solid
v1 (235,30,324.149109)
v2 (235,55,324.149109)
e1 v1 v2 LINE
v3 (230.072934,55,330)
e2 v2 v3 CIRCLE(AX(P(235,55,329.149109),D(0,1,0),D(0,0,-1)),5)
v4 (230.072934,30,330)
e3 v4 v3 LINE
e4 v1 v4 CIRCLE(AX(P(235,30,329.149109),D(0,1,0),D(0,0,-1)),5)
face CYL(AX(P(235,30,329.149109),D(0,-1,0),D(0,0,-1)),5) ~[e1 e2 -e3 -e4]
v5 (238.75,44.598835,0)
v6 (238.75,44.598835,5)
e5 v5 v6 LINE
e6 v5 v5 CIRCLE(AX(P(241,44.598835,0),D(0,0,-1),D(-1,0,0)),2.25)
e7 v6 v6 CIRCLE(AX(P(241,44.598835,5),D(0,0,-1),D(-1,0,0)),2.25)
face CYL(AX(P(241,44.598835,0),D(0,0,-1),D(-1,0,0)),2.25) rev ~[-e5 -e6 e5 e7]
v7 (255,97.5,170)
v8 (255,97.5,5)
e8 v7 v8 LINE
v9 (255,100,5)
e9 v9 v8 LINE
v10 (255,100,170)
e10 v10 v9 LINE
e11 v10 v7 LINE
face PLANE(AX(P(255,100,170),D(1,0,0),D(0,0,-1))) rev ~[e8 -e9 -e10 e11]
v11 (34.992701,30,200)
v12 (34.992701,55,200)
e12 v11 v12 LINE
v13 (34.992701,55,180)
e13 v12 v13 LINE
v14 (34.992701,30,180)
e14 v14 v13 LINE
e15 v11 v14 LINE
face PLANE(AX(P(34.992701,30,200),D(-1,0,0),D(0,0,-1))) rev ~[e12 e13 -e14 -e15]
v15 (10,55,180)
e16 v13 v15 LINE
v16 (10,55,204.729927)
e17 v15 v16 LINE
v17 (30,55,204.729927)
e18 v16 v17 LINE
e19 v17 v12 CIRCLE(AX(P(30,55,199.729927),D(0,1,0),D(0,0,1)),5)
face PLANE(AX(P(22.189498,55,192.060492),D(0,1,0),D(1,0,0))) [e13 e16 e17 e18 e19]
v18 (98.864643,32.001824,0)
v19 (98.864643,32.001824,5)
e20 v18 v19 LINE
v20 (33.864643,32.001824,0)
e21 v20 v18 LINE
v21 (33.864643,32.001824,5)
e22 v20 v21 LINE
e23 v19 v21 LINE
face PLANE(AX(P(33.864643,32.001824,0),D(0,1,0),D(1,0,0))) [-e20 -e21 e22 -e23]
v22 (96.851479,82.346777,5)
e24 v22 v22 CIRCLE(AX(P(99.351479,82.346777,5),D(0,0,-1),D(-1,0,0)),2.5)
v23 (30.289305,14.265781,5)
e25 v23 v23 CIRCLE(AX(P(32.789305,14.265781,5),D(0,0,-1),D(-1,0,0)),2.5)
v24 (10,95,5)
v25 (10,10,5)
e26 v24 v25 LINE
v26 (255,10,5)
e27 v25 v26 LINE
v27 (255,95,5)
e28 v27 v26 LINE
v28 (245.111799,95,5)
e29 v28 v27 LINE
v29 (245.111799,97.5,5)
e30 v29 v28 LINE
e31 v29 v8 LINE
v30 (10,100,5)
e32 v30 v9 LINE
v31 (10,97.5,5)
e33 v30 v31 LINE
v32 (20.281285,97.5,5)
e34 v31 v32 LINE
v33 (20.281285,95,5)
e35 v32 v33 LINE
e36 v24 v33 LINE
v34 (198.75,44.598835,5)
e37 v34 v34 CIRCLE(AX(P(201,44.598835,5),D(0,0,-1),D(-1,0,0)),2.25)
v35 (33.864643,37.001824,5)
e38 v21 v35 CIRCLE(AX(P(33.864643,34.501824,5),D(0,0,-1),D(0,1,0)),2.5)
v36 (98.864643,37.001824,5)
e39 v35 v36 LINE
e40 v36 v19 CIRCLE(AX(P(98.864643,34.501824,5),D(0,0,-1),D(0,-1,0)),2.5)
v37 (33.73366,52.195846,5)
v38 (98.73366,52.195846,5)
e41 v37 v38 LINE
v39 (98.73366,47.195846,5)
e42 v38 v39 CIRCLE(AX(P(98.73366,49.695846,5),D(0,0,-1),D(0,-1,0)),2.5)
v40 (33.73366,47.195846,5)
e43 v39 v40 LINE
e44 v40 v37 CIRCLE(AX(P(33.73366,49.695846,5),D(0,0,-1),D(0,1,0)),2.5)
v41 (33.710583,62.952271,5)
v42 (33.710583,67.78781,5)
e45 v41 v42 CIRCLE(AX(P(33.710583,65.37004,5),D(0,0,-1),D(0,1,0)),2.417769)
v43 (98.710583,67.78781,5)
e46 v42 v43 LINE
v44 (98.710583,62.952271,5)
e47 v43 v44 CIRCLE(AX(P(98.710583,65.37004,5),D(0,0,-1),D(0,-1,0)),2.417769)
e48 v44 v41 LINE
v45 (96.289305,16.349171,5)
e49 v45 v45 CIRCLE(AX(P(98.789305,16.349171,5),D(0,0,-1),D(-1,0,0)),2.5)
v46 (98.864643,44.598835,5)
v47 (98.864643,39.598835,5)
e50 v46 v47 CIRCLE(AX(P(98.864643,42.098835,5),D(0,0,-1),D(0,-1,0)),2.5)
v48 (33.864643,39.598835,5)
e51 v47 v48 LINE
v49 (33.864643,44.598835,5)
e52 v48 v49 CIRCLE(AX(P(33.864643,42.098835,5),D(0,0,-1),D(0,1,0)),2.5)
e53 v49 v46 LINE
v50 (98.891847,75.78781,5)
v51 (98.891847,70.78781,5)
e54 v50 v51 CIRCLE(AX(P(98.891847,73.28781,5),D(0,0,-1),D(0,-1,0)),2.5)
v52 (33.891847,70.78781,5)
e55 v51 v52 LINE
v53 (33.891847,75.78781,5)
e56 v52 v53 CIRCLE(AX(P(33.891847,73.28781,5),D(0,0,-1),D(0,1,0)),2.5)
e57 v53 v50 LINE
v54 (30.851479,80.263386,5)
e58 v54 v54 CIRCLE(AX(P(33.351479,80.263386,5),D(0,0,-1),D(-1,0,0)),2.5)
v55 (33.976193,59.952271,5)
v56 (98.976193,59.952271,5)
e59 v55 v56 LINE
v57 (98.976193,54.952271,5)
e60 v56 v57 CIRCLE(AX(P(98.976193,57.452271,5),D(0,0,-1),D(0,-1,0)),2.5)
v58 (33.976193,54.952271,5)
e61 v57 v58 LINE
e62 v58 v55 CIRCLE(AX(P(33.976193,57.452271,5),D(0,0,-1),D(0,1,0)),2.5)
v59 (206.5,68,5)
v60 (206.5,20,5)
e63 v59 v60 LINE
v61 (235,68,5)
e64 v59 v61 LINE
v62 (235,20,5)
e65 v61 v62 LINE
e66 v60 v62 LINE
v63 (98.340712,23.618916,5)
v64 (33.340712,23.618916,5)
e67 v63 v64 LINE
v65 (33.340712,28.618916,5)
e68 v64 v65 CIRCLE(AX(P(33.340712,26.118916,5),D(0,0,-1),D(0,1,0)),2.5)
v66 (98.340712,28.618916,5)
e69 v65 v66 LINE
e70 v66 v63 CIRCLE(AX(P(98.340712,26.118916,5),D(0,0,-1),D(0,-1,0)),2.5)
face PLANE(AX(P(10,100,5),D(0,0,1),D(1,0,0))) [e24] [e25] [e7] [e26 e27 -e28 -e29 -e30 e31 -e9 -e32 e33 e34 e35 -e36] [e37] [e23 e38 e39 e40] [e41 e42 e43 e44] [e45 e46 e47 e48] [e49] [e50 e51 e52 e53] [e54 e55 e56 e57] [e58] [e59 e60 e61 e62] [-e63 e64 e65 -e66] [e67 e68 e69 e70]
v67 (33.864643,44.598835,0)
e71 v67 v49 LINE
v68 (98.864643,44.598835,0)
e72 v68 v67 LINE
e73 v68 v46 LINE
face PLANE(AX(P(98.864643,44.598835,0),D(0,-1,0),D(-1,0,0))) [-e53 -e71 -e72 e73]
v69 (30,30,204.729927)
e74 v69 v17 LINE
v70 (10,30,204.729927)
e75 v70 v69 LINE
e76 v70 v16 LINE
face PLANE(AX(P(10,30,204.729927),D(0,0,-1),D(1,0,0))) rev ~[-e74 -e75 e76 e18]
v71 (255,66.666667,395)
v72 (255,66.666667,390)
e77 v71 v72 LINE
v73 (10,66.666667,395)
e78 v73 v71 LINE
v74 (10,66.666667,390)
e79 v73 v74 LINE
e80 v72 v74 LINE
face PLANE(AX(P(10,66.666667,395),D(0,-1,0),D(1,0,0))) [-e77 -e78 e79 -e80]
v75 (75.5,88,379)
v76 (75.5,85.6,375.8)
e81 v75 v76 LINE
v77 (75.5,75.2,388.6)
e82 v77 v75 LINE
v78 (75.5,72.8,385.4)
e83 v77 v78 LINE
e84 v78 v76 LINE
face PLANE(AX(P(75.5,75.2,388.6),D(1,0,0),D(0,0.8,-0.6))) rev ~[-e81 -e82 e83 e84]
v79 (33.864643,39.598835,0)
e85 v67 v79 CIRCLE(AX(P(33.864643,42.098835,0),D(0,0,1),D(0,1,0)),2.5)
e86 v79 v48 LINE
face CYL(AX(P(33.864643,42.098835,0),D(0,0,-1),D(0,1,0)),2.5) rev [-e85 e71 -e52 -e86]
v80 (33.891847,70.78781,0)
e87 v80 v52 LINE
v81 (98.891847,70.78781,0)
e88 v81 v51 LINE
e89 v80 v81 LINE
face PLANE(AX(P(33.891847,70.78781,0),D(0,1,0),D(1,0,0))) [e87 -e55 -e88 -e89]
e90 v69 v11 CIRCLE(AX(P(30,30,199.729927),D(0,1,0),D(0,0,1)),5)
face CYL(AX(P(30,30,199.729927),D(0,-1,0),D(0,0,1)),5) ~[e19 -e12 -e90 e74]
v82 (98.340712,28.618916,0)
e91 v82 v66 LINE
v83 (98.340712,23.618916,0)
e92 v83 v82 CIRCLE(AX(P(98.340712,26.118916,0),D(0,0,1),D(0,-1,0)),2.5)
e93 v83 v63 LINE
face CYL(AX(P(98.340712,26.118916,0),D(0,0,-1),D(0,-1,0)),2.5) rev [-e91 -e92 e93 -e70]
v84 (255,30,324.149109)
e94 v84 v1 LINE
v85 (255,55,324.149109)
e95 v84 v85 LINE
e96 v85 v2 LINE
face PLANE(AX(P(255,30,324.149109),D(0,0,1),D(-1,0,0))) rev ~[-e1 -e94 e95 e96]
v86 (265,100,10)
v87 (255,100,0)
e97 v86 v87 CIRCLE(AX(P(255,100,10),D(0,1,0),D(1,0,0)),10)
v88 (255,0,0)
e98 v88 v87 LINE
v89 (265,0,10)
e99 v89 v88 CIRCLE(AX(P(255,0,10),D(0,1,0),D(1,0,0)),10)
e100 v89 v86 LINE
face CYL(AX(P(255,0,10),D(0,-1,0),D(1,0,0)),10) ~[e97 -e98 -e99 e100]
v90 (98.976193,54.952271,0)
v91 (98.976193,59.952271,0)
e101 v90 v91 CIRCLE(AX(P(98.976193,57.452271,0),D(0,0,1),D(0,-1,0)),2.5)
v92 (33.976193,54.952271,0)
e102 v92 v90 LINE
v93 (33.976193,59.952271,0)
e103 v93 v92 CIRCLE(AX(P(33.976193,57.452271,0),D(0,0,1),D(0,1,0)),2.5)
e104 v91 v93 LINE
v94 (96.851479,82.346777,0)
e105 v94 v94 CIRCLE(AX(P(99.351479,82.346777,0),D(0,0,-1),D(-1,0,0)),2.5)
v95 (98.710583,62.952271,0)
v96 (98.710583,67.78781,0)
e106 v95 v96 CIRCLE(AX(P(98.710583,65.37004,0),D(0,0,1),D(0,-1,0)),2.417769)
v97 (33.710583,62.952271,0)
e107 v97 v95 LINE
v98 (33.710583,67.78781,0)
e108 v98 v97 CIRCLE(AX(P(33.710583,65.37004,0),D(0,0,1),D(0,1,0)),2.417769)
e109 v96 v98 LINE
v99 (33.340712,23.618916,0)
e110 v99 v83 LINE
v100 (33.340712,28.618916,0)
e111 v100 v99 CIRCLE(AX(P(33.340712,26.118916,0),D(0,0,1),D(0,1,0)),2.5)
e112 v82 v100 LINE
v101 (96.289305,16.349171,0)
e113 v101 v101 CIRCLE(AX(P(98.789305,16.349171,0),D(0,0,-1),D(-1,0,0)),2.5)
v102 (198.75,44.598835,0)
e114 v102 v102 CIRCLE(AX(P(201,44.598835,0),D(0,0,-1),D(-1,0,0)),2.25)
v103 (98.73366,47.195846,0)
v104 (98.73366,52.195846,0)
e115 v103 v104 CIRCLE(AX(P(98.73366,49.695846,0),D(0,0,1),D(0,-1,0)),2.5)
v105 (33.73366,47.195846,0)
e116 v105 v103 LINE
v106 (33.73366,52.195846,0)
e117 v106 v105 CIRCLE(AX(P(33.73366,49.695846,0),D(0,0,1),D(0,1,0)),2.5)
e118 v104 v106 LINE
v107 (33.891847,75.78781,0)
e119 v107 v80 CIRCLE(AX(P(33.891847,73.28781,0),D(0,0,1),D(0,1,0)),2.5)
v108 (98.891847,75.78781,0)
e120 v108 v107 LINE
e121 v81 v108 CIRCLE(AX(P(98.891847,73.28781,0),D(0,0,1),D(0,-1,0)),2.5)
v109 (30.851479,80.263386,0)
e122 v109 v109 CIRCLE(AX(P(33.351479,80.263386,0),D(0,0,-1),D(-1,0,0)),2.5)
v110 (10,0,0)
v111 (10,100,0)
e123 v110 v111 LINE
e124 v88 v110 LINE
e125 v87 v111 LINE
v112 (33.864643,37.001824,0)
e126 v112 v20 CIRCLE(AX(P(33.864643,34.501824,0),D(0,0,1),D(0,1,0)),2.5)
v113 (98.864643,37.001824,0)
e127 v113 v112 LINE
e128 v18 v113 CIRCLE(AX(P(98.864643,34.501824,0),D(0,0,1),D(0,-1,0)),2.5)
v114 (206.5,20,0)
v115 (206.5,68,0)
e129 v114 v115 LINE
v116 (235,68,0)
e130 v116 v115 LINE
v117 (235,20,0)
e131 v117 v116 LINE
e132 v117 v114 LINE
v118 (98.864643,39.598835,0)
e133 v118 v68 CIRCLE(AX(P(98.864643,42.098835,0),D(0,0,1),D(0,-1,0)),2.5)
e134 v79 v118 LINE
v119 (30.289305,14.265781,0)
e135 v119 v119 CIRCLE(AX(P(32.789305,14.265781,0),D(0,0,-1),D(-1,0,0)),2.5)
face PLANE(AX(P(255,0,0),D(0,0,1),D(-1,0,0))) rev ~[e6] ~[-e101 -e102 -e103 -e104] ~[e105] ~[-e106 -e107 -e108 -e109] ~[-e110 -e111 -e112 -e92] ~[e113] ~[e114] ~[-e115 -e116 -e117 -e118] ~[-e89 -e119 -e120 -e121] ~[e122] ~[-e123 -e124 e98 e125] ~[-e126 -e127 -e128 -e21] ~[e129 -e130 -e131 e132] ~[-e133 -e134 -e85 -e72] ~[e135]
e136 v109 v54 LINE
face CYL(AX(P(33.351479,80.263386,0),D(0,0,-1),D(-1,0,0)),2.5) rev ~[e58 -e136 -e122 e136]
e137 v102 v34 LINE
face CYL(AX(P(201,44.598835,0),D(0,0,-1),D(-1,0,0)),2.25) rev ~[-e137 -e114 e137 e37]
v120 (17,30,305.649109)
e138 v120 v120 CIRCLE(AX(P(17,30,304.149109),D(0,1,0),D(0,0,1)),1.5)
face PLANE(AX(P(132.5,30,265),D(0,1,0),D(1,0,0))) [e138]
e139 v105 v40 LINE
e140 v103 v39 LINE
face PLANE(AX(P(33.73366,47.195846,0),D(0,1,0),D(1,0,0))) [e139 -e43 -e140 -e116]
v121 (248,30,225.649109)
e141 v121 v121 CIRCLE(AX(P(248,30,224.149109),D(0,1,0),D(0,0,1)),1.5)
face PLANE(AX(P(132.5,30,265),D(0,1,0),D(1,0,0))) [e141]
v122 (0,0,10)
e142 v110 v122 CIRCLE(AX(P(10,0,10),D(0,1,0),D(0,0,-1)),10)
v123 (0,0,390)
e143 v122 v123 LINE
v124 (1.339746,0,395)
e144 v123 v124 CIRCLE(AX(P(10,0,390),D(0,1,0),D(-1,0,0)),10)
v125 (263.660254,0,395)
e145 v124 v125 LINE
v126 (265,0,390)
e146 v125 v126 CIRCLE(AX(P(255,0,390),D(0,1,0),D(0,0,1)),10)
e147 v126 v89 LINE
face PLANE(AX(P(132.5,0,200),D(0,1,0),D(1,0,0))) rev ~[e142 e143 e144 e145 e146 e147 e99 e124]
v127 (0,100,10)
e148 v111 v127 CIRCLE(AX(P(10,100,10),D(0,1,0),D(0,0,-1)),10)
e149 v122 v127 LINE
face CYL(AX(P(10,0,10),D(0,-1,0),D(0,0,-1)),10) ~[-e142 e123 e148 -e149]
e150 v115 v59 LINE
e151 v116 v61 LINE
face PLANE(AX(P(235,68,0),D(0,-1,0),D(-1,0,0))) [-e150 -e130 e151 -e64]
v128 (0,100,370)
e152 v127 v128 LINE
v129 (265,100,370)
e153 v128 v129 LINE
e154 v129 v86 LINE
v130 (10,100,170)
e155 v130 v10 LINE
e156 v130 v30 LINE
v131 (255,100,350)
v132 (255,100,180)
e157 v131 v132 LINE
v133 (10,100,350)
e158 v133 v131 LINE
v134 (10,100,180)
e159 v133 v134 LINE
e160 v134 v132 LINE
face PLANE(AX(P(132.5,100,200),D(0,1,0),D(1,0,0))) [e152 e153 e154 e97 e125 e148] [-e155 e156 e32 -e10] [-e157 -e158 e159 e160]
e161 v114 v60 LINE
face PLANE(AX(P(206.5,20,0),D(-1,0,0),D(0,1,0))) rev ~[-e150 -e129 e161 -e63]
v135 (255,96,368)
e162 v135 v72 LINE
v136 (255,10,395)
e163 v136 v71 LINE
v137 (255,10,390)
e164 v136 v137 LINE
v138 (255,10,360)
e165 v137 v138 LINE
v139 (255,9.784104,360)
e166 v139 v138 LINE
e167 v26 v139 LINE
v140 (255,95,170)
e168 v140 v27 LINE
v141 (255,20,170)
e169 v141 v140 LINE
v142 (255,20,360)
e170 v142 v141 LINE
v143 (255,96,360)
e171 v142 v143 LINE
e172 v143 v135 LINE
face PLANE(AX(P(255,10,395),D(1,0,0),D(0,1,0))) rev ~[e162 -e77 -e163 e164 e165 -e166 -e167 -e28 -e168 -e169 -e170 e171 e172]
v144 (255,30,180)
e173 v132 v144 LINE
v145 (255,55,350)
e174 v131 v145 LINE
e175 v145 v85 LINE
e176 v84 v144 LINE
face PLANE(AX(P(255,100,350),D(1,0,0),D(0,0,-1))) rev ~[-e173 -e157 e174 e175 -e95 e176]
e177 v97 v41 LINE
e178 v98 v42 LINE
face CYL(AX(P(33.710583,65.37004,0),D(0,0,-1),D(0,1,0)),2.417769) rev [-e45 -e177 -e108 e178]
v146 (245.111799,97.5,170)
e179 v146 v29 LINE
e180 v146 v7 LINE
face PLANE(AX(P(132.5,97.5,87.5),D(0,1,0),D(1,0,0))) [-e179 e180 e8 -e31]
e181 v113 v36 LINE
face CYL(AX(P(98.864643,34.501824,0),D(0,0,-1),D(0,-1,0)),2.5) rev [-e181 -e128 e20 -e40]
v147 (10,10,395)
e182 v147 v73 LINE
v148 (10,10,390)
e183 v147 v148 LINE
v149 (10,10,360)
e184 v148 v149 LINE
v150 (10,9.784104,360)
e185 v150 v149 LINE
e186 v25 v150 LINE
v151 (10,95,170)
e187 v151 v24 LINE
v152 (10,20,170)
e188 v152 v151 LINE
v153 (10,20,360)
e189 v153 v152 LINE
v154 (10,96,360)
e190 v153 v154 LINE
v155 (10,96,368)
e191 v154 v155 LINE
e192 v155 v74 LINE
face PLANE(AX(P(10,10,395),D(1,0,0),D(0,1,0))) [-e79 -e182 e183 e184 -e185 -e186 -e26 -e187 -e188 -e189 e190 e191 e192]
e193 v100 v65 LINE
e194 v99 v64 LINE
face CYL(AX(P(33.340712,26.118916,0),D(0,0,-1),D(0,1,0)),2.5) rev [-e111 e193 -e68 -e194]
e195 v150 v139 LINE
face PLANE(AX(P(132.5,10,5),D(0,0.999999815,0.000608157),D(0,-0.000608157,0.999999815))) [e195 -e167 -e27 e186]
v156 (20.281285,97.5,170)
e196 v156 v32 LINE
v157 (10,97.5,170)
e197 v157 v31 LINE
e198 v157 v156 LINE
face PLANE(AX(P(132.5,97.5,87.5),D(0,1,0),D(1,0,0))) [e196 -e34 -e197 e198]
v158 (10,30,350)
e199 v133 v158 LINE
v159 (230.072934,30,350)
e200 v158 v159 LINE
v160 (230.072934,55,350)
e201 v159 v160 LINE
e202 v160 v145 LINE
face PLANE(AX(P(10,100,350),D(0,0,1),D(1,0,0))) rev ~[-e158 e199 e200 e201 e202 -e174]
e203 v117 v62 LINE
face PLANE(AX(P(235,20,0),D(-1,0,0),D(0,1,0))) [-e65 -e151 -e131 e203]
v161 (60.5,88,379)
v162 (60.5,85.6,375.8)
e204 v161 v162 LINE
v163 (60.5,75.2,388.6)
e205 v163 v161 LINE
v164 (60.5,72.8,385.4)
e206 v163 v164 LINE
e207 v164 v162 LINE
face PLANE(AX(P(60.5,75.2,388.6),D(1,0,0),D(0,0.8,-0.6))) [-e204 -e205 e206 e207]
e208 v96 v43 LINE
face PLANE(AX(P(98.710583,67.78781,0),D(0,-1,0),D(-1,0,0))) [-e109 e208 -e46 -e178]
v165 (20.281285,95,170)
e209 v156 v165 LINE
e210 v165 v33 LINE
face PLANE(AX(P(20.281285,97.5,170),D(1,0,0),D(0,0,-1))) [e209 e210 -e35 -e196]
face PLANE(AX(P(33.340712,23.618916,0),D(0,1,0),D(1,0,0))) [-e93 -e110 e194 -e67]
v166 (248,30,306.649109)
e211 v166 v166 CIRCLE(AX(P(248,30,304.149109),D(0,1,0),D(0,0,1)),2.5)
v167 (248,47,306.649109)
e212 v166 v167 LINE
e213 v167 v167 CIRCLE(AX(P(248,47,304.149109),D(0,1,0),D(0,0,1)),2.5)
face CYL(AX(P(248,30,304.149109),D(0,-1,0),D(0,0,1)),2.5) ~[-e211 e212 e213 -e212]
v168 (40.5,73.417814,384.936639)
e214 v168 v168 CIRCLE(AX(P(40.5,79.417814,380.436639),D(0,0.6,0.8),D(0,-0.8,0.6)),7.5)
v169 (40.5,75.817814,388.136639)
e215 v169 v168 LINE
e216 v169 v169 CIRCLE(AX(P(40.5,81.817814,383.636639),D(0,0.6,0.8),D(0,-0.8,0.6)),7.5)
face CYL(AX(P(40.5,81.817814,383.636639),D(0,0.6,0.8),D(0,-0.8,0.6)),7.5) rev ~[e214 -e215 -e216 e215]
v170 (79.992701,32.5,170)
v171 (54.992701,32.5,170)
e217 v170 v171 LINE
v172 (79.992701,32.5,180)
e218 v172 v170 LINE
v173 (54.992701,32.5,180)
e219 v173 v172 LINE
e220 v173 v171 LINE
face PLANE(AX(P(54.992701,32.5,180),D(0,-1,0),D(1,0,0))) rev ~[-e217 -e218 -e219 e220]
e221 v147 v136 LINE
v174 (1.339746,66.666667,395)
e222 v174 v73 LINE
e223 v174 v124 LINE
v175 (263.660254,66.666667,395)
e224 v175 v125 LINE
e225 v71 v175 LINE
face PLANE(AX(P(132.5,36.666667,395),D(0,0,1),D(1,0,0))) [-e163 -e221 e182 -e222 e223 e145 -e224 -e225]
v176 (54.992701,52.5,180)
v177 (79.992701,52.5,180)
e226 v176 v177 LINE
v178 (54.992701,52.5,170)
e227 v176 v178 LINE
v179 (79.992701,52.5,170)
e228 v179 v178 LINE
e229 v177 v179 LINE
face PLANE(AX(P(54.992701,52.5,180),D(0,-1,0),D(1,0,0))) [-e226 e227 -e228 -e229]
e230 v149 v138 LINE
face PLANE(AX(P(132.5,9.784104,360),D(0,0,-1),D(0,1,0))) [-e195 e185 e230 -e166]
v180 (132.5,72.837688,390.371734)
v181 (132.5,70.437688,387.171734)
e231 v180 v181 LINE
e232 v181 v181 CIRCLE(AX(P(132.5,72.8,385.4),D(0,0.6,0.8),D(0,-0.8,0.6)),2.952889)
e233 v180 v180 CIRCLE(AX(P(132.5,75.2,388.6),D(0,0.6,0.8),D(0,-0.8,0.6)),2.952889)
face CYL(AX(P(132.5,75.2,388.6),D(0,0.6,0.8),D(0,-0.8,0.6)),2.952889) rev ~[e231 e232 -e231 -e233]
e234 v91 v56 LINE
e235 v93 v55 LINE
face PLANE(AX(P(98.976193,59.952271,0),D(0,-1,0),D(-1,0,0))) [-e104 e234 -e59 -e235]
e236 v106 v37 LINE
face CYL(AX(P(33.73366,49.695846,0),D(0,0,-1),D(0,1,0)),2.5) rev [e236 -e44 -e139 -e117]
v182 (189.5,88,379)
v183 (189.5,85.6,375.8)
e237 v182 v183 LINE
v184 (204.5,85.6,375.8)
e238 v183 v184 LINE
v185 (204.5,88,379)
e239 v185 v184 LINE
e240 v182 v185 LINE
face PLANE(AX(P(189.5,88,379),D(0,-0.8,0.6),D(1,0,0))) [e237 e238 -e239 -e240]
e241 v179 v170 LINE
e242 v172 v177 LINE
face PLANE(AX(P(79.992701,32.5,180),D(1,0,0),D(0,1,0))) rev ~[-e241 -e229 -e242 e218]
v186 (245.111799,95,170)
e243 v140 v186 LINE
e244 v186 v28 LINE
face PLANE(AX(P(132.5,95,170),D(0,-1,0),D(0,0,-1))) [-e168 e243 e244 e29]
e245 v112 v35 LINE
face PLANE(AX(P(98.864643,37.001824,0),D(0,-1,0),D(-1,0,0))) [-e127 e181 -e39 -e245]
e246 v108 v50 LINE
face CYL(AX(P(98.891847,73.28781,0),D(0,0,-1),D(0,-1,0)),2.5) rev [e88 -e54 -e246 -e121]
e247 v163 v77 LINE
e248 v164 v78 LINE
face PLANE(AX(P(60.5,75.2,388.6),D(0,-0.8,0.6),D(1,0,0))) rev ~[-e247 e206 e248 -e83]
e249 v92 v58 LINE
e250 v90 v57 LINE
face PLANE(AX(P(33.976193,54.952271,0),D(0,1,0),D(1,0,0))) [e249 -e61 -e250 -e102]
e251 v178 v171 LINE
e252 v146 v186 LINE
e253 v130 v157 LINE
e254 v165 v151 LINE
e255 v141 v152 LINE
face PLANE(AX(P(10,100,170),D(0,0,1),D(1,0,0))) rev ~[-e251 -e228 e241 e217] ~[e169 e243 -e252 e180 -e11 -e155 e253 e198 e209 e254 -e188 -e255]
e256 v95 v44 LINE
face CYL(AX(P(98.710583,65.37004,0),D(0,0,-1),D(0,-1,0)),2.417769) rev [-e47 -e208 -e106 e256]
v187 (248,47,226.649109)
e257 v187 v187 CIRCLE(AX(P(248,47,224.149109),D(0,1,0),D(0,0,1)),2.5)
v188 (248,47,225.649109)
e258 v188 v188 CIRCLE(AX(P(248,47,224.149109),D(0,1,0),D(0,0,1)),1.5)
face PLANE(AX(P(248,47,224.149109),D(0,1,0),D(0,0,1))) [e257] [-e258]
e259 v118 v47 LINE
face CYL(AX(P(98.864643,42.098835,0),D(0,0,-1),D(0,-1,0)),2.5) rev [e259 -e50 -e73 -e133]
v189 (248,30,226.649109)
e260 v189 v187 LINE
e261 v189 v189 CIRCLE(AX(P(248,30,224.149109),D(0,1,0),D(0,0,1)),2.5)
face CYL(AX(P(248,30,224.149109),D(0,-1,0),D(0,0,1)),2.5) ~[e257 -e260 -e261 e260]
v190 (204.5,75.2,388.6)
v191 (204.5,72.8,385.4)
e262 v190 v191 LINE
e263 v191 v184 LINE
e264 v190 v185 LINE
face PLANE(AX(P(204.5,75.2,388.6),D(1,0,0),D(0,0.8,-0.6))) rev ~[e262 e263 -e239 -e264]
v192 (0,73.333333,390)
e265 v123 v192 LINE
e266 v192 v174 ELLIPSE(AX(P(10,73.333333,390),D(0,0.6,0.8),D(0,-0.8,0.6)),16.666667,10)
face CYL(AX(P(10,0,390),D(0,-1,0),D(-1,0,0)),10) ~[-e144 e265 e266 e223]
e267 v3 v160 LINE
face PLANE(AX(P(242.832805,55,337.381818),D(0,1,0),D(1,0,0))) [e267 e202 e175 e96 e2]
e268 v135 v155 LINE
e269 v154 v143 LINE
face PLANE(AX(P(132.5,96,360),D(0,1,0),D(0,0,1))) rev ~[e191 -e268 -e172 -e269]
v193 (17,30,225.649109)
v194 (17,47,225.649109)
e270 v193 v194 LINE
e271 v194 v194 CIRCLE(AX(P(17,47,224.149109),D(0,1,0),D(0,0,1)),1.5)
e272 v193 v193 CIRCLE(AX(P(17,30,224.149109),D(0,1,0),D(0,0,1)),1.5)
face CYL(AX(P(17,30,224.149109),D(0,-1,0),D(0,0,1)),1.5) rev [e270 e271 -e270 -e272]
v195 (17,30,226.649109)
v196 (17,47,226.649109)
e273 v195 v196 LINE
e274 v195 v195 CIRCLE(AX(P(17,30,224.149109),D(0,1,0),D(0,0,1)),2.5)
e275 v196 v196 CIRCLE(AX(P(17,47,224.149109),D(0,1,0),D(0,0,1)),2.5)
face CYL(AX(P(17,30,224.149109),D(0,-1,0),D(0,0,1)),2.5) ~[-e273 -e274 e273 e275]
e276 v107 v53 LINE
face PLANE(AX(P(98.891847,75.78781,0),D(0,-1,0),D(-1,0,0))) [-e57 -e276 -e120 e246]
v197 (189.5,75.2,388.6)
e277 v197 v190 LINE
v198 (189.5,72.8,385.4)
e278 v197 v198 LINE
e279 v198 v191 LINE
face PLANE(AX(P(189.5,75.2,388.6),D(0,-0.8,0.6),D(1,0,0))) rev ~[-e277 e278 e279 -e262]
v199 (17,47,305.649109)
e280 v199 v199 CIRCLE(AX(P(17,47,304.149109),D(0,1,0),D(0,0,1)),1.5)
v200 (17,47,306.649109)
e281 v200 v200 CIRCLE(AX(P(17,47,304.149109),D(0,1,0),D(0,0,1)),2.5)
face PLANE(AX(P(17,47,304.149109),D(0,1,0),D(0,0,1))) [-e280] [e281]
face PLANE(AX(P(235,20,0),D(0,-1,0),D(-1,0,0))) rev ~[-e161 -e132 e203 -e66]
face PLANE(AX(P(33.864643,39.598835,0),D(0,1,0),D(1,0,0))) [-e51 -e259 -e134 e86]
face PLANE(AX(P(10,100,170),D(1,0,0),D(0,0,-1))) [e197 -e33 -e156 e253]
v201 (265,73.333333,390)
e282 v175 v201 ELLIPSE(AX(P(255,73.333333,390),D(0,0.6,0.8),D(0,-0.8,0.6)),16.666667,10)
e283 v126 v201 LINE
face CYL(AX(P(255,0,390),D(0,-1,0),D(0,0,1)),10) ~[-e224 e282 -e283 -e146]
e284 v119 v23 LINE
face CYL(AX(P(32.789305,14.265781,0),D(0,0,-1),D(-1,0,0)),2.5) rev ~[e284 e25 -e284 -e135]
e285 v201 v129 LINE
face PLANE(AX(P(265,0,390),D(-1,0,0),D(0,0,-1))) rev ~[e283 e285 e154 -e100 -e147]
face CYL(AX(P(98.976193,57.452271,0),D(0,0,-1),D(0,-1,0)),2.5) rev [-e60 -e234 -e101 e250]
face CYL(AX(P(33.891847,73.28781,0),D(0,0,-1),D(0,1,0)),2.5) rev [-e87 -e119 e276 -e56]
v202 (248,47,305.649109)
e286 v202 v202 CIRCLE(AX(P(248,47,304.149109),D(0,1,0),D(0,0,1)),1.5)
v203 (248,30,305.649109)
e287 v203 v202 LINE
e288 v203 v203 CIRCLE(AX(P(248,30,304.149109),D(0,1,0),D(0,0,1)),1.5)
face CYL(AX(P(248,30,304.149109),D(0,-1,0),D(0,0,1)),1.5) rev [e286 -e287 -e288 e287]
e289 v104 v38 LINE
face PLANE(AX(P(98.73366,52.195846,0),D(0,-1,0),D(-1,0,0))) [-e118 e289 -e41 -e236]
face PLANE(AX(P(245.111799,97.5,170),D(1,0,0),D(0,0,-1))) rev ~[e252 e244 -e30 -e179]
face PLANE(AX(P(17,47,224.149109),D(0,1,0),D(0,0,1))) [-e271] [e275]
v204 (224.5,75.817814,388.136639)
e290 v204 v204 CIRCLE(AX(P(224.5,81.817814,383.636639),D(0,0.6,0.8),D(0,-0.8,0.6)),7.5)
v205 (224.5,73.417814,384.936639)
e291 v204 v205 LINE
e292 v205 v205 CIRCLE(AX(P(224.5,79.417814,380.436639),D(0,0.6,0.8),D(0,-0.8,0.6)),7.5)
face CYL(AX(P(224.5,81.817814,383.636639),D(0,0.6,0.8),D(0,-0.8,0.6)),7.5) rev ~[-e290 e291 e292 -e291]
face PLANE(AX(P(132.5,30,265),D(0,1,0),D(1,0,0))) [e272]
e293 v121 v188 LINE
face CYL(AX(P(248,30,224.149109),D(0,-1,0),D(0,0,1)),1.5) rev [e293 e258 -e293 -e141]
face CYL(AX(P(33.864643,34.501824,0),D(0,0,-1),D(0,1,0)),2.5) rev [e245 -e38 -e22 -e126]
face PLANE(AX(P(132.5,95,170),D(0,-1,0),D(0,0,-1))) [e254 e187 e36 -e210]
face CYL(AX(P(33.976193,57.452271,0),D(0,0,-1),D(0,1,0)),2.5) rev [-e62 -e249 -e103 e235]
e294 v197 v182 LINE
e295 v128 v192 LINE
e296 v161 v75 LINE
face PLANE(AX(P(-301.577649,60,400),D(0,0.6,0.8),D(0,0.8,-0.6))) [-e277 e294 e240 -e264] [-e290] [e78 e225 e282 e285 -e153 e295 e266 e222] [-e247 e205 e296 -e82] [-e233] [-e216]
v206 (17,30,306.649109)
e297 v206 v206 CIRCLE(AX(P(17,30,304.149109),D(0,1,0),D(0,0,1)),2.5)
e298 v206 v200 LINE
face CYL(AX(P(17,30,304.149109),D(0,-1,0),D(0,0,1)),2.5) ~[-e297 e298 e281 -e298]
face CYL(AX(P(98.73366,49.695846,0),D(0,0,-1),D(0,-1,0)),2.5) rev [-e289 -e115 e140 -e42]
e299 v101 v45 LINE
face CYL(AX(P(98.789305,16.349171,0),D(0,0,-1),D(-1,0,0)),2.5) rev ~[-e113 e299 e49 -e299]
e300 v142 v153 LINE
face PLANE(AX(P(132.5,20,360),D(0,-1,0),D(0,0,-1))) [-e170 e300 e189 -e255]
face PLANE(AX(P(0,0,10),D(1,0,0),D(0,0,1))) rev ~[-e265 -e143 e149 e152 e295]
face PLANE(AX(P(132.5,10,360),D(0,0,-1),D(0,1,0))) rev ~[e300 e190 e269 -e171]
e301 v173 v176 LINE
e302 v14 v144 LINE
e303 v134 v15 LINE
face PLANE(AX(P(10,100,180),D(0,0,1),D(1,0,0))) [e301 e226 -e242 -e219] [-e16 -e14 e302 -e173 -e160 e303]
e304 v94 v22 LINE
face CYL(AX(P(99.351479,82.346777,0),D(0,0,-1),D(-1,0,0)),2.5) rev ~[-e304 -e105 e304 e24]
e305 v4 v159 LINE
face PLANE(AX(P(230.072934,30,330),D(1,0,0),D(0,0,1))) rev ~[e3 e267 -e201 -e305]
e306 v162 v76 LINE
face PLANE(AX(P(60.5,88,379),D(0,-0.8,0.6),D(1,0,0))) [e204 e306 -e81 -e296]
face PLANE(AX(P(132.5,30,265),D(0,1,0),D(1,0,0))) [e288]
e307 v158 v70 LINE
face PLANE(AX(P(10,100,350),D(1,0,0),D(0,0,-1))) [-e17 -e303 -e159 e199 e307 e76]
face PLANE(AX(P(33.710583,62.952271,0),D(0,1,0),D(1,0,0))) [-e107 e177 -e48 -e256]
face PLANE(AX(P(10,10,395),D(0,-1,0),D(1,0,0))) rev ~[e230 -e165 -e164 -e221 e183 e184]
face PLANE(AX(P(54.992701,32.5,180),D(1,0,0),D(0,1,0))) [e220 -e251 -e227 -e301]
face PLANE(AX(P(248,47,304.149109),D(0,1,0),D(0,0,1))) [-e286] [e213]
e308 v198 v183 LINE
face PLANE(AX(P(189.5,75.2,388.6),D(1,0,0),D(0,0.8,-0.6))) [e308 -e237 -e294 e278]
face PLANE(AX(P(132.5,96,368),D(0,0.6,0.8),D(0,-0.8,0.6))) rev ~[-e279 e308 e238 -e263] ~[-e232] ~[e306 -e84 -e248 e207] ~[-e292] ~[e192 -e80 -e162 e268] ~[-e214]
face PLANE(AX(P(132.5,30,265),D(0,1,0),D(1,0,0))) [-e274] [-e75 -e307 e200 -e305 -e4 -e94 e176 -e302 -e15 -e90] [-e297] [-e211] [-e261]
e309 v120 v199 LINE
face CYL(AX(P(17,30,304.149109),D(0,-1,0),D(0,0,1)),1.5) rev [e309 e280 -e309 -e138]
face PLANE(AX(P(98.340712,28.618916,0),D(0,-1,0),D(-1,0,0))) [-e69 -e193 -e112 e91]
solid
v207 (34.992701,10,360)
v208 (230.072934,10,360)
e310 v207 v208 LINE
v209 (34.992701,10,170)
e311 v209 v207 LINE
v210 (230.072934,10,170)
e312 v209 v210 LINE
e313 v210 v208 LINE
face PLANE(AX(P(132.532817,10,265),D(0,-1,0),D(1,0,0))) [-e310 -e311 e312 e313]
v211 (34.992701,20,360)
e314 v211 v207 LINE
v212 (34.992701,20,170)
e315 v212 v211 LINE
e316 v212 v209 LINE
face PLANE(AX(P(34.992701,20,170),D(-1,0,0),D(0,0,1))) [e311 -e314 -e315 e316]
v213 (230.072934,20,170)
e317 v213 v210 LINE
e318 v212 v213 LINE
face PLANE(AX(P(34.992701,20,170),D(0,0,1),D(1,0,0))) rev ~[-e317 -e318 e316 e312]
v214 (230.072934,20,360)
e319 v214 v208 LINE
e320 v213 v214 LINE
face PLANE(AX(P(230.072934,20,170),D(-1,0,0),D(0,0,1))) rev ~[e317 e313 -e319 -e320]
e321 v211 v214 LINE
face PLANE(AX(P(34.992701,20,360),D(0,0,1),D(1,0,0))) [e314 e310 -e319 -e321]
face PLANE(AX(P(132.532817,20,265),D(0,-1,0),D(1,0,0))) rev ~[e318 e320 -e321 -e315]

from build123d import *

# Parameters (mm, degrees)
BOSS_EXTRUDE2_DEPTH      = 100
SKETCH4_W                = 245
SKETCH4_H                = 170
CUT_EXTRUDE2_DEPTH       = 70
CUT_EXTRUDE12_DEPTH      = 434.077648927
CUT_EXTRUDE12_DEPTH_BACK = 434.077648927
CUT_EXTRUDE13_DEPTH      = 122.5
CUT_EXTRUDE14_DEPTH      = 122.5
SKETCH16_R               = 2.5
SKETCH16_R_2             = 2.25
SKETCH16_W               = 28.5
SKETCH16_H               = 48
CUT_EXTRUDE15_DEPTH      = 30
SKETCH17_R               = 2.952889484
SKETCH17_R_2             = 7.5
SKETCH17_W               = 15
SKETCH17_H               = 16
CUT_EXTRUDE16_DEPTH      = 10
BOSS_EXTRUDE3_DEPTH      = 25
SKETCH19_W               = 25
SKETCH19_H               = 20
CUT_EXTRUDE17_DEPTH      = 15
SKETCH21_W               = 195.080232819
SKETCH21_H               = 190
BOSS_EXTRUDE9_DEPTH      = 10
SKETCH23_W               = 265
SKETCH23_H               = 73.333333333
CUT_EXTRUDE18_DEPTH      = 5
SKETCH24_W               = 245
SKETCH24_H               = 56.666666667
CUT_EXTRUDE19_DEPTH      = 5
SKETCH25_W               = 245
SKETCH25_H               = 165
CUT_EXTRUDE21_DEPTH      = 2.5
SKETCH26_W               = 224.830514278
SKETCH26_H               = 165
CUT_EXTRUDE22_DEPTH      = 2.5
SKETCH27_R               = 2.5
SKETCH27_R_2             = 1.5
BOSS_EXTRUDE11_DEPTH     = 17


with BuildPart() as part:
    # Sketch1 → Boss-Extrude2 (new body)
    with BuildSketch(Plane(origin=(0, 0, 0), x_dir=(1, 0, 0), z_dir=(0, 1, 0))):
        with BuildLine():
            Line((0, -10), (0, -390))
            ThreePointArc((0, -390), (2.928932188, -397.071067812), (10, -400))
            Line((10, -400), (255, -400))
            ThreePointArc((255, -400), (262.071067812, -397.071067812), (265, -390))
            Line((265, -390), (265, -10))
            ThreePointArc((265, -10), (262.071067812, -2.928932188), (255, 0))
            Line((255, 0), (10, 0))
            ThreePointArc((10, 0), (2.928932188, -2.928932188), (0, -10))
        make_face()
    extrude(amount=BOSS_EXTRUDE2_DEPTH)

    # Sketch4 → Cut-Extrude2 (cut)
    with BuildSketch(Plane(origin=(0, 100, 0), x_dir=(1, 0, 0), z_dir=(0, 1, 0))):
        with Locations((132.5, -265)):
            Rectangle(SKETCH4_W, SKETCH4_H)
    extrude(amount=-CUT_EXTRUDE2_DEPTH, mode=Mode.SUBTRACT)

    # Sketch10 → Cut-Extrude12 (cut, two sides: drawn at the far end of the back side and taken through both)
    with BuildSketch(Plane(origin=(132.5, 0, 0), x_dir=(0, 0, -1), z_dir=(1, 0, 0)).offset(-CUT_EXTRUDE12_DEPTH_BACK)):
        Polygon((-400, 60), (-370, 100), (-400, 100), align=None)
    extrude(amount=CUT_EXTRUDE12_DEPTH + CUT_EXTRUDE12_DEPTH_BACK, mode=Mode.SUBTRACT)

    # Sketch14 → Cut-Extrude13 (cut, symmetric)
    with BuildSketch(Plane(origin=(132.5, 0, 0), x_dir=(0, 0, -1), z_dir=(1, 0, 0))):
        Polygon((-390, 10), (-360, 10), (-360, 96), (-368, 96), (-390, 66.666666667), align=None)
    extrude(amount=CUT_EXTRUDE13_DEPTH, both=True, mode=Mode.SUBTRACT)

    # Sketch15 → Cut-Extrude14 (cut, symmetric)
    with BuildSketch(Plane(origin=(132.5, 0, 0), x_dir=(0, 0, -1), z_dir=(1, 0, 0))):
        Polygon((-360, 9.784104138), (-360, 20), (-170, 20), (-170, 95), (-5, 95), (-5, 10), align=None)
    extrude(amount=CUT_EXTRUDE14_DEPTH, both=True, mode=Mode.SUBTRACT)

    # Sketch16 → Cut-Extrude15 (cut)
    with BuildSketch(Plane(origin=(0, 0, 0), x_dir=(-1, 0, 0), z_dir=(0, 0, -1))):
        with Locations((-99.351479045, 82.346777086)):
            Circle(SKETCH16_R)
        with Locations((-32.789304606, 14.265780679)):
            Circle(SKETCH16_R)
        with Locations((-33.351479045, 80.263386392)):
            Circle(SKETCH16_R)
        with Locations((-98.789304606, 16.349171373)):
            Circle(SKETCH16_R)
        with Locations((-241, 44.598834986)):
            Circle(SKETCH16_R_2)
        with Locations((-201, 44.598834986)):
            Circle(SKETCH16_R_2)
        with BuildLine():
            Line((-98.891846609, 75.787809753), (-33.891846609, 75.787809753))
            ThreePointArc((-33.891846609, 75.787809753), (-31.391846609, 73.287809753), (-33.891846609, 70.787809753))
            Line((-33.891846609, 70.787809753), (-98.891846609, 70.787809753))
            ThreePointArc((-98.891846609, 70.787809753), (-101.391846609, 73.287809753), (-98.891846609, 75.787809753))
        make_face()
        with BuildLine():
            Line((-98.710582977, 67.787809753), (-33.710582977, 67.787809753))
            ThreePointArc((-33.710582977, 67.787809753), (-31.292813717, 65.370040492), (-33.710582977, 62.952271231))
            Line((-33.710582977, 62.952271231), (-98.710582977, 62.952271231))
            ThreePointArc((-98.710582977, 62.952271231), (-101.128352238, 65.370040492), (-98.710582977, 67.787809753))
        make_face()
        with BuildLine():
            Line((-98.976192668, 59.952271231), (-33.976192668, 59.952271231))
            ThreePointArc((-33.976192668, 59.952271231), (-31.476192668, 57.452271231), (-33.976192668, 54.952271231))
            Line((-33.976192668, 54.952271231), (-98.976192668, 54.952271231))
            ThreePointArc((-98.976192668, 54.952271231), (-101.476192668, 57.452271231), (-98.976192668, 59.952271231))
        make_face()
        with BuildLine():
            Line((-98.733660424, 52.195845601), (-33.733660424, 52.195845601))
            ThreePointArc((-33.733660424, 52.195845601), (-31.233660424, 49.695845601), (-33.733660424, 47.195845601))
            Line((-33.733660424, 47.195845601), (-98.733660424, 47.195845601))
            ThreePointArc((-98.733660424, 47.195845601), (-101.233660424, 49.695845601), (-98.733660424, 52.195845601))
        make_face()
        with BuildLine():
            Line((-98.864643365, 44.598834986), (-33.864643365, 44.598834986))
            ThreePointArc((-33.864643365, 44.598834986), (-31.364643365, 42.098834986), (-33.864643365, 39.598834986))
            Line((-33.864643365, 39.598834986), (-98.864643365, 39.598834986))
            ThreePointArc((-98.864643365, 39.598834986), (-101.364643365, 42.098834986), (-98.864643365, 44.598834986))
        make_face()
        with BuildLine():
            Line((-98.864643365, 37.00182437), (-33.864643365, 37.00182437))
            ThreePointArc((-33.864643365, 37.00182437), (-31.364643365, 34.50182437), (-33.864643365, 32.00182437))
            Line((-33.864643365, 32.00182437), (-98.864643365, 32.00182437))
            ThreePointArc((-98.864643365, 32.00182437), (-101.364643365, 34.50182437), (-98.864643365, 37.00182437))
        make_face()
        with BuildLine():
            Line((-98.340711599, 28.618916104), (-33.340711599, 28.618916104))
            ThreePointArc((-33.340711599, 28.618916104), (-30.840711599, 26.118916104), (-33.340711599, 23.618916104))
            Line((-33.340711599, 23.618916104), (-98.340711599, 23.618916104))
            ThreePointArc((-98.340711599, 23.618916104), (-100.840711599, 26.118916104), (-98.340711599, 28.618916104))
        make_face()
        with Locations((-220.75, 44)):
            Rectangle(SKETCH16_W, SKETCH16_H)
    extrude(amount=-CUT_EXTRUDE15_DEPTH, mode=Mode.SUBTRACT)

    # Sketch17 → Cut-Extrude16 (cut)
    with BuildSketch(Plane(origin=(0, 213.6, 284.8), x_dir=(1, 0, 0), z_dir=(0, 0.5999999999999998, 0.8000000000000004))):
        with Locations(Location((132.5, -173, 0), (0, 0, 270))):
            Circle(SKETCH17_R)
        with Locations(Location((40.5, -164.727732251, 0), (0, 0, 270))):
            Circle(SKETCH17_R_2)
        with Locations(Location((224.5, -164.727732251, 0), (0, 0, 270))):
            Circle(SKETCH17_R_2)
        with Locations((68, -165)):
            Rectangle(SKETCH17_W, SKETCH17_H)
        with Locations((197, -165)):
            Rectangle(SKETCH17_W, SKETCH17_H)
    extrude(amount=-CUT_EXTRUDE16_DEPTH, mode=Mode.SUBTRACT)

    # Sketch18 → Boss-Extrude3 (add)
    with BuildSketch(Plane(origin=(0, 30, 0), x_dir=(1, 0, 0), z_dir=(0, 1, 0))):
        with BuildLine():
            Line((10, -180), (10, -204.729927007))
            Line((10, -204.729927007), (30, -204.729927007))
            ThreePointArc((30, -204.729927007), (33.43872324, -203.359690427), (34.99270073, -200))
            Line((34.99270073, -200), (34.99270073, -180))
            Line((34.99270073, -180), (10, -180))
        make_face()
        with BuildLine():
            Line((255, -350), (255, -324.14910859))
            Line((255, -324.14910859), (235, -324.14910859))
            ThreePointArc((235, -324.14910859), (231.175444009, -325.928429861), (230.072933549, -330))
            Line((230.072933549, -330), (230.072933549, -350))
            Line((230.072933549, -350), (255, -350))
        make_face()
    extrude(amount=BOSS_EXTRUDE3_DEPTH)

    # Sketch19 → Cut-Extrude17 (cut)
    with BuildSketch(Plane.XY.offset(180)):
        with Locations((67.49270073, 42.5)):
            Rectangle(SKETCH19_W, SKETCH19_H)
    extrude(amount=-CUT_EXTRUDE17_DEPTH, mode=Mode.SUBTRACT)

    # Sketch23 → Cut-Extrude18 (cut)
    with BuildSketch(Plane.XY.offset(400)):
        with Locations((132.5, 36.666666666)):
            Rectangle(SKETCH23_W, SKETCH23_H)
    extrude(amount=-CUT_EXTRUDE18_DEPTH, mode=Mode.SUBTRACT)

    # Sketch24 → Cut-Extrude19 (cut)
    with BuildSketch(Plane.XY.offset(395)):
        with Locations((132.5, 38.333333334)):
            Rectangle(SKETCH24_W, SKETCH24_H)
    extrude(amount=-CUT_EXTRUDE19_DEPTH, mode=Mode.SUBTRACT)

    # Sketch25 → Cut-Extrude21 (cut)
    with BuildSketch(Plane(origin=(0, 100, 0), x_dir=(1, 0, 0), z_dir=(0, 1, 0))):
        with Locations((132.5, -87.5)):
            Rectangle(SKETCH25_W, SKETCH25_H)
    extrude(amount=-CUT_EXTRUDE21_DEPTH, mode=Mode.SUBTRACT)

    # Sketch26 → Cut-Extrude22 (cut)
    with BuildSketch(Plane(origin=(0, 97.5, 0), x_dir=(1, 0, 0), z_dir=(0, 1, 0))):
        with Locations((132.6965421, -87.5)):
            Rectangle(SKETCH26_W, SKETCH26_H)
    extrude(amount=-CUT_EXTRUDE22_DEPTH, mode=Mode.SUBTRACT)

    # Sketch27 → Boss-Extrude11 (add)
    # profile 1 of 4: a face of its own
    with BuildSketch(Plane(origin=(0, 30, 0), x_dir=(1, 0, 0), z_dir=(0, 1, 0))):
        with Locations(Location((248, -304.14910859, 0), (0, 0, 270))):
            Circle(SKETCH27_R)
        with Locations(Location((248, -304.14910859, 0), (0, 0, 270))):
            Circle(SKETCH27_R_2, mode=Mode.SUBTRACT)
    # profile 2 of 4: a face of its own
    with BuildSketch(Plane(origin=(0, 30, 0), x_dir=(1, 0, 0), z_dir=(0, 1, 0))):
        with Locations(Location((248, -224.14910859, 0), (0, 0, 270))):
            Circle(SKETCH27_R)
        with Locations(Location((248, -224.14910859, 0), (0, 0, 270))):
            Circle(SKETCH27_R_2, mode=Mode.SUBTRACT)
    # profile 3 of 4: a face of its own
    with BuildSketch(Plane(origin=(0, 30, 0), x_dir=(1, 0, 0), z_dir=(0, 1, 0))):
        with Locations(Location((17, -304.14910859, 0), (0, 0, 270))):
            Circle(SKETCH27_R)
        with Locations(Location((17, -304.14910859, 0), (0, 0, 270))):
            Circle(SKETCH27_R_2, mode=Mode.SUBTRACT)
    # profile 4 of 4: a face of its own
    with BuildSketch(Plane(origin=(0, 30, 0), x_dir=(1, 0, 0), z_dir=(0, 1, 0))):
        with Locations(Location((17, -224.14910859, 0), (0, 0, 270))):
            Circle(SKETCH27_R)
        with Locations(Location((17, -224.14910859, 0), (0, 0, 270))):
            Circle(SKETCH27_R_2, mode=Mode.SUBTRACT)
    extrude(amount=BOSS_EXTRUDE11_DEPTH)


with BuildPart() as body_2:
    # Sketch21 → Boss-Extrude9 (new body)
    with BuildSketch(Plane.XZ.offset(-20)):
        with Locations((132.53281714, 265)):
            Rectangle(SKETCH21_W, SKETCH21_H)
    extrude(amount=BOSS_EXTRUDE9_DEPTH)


solid = Compound([part.part, body_2.part])
